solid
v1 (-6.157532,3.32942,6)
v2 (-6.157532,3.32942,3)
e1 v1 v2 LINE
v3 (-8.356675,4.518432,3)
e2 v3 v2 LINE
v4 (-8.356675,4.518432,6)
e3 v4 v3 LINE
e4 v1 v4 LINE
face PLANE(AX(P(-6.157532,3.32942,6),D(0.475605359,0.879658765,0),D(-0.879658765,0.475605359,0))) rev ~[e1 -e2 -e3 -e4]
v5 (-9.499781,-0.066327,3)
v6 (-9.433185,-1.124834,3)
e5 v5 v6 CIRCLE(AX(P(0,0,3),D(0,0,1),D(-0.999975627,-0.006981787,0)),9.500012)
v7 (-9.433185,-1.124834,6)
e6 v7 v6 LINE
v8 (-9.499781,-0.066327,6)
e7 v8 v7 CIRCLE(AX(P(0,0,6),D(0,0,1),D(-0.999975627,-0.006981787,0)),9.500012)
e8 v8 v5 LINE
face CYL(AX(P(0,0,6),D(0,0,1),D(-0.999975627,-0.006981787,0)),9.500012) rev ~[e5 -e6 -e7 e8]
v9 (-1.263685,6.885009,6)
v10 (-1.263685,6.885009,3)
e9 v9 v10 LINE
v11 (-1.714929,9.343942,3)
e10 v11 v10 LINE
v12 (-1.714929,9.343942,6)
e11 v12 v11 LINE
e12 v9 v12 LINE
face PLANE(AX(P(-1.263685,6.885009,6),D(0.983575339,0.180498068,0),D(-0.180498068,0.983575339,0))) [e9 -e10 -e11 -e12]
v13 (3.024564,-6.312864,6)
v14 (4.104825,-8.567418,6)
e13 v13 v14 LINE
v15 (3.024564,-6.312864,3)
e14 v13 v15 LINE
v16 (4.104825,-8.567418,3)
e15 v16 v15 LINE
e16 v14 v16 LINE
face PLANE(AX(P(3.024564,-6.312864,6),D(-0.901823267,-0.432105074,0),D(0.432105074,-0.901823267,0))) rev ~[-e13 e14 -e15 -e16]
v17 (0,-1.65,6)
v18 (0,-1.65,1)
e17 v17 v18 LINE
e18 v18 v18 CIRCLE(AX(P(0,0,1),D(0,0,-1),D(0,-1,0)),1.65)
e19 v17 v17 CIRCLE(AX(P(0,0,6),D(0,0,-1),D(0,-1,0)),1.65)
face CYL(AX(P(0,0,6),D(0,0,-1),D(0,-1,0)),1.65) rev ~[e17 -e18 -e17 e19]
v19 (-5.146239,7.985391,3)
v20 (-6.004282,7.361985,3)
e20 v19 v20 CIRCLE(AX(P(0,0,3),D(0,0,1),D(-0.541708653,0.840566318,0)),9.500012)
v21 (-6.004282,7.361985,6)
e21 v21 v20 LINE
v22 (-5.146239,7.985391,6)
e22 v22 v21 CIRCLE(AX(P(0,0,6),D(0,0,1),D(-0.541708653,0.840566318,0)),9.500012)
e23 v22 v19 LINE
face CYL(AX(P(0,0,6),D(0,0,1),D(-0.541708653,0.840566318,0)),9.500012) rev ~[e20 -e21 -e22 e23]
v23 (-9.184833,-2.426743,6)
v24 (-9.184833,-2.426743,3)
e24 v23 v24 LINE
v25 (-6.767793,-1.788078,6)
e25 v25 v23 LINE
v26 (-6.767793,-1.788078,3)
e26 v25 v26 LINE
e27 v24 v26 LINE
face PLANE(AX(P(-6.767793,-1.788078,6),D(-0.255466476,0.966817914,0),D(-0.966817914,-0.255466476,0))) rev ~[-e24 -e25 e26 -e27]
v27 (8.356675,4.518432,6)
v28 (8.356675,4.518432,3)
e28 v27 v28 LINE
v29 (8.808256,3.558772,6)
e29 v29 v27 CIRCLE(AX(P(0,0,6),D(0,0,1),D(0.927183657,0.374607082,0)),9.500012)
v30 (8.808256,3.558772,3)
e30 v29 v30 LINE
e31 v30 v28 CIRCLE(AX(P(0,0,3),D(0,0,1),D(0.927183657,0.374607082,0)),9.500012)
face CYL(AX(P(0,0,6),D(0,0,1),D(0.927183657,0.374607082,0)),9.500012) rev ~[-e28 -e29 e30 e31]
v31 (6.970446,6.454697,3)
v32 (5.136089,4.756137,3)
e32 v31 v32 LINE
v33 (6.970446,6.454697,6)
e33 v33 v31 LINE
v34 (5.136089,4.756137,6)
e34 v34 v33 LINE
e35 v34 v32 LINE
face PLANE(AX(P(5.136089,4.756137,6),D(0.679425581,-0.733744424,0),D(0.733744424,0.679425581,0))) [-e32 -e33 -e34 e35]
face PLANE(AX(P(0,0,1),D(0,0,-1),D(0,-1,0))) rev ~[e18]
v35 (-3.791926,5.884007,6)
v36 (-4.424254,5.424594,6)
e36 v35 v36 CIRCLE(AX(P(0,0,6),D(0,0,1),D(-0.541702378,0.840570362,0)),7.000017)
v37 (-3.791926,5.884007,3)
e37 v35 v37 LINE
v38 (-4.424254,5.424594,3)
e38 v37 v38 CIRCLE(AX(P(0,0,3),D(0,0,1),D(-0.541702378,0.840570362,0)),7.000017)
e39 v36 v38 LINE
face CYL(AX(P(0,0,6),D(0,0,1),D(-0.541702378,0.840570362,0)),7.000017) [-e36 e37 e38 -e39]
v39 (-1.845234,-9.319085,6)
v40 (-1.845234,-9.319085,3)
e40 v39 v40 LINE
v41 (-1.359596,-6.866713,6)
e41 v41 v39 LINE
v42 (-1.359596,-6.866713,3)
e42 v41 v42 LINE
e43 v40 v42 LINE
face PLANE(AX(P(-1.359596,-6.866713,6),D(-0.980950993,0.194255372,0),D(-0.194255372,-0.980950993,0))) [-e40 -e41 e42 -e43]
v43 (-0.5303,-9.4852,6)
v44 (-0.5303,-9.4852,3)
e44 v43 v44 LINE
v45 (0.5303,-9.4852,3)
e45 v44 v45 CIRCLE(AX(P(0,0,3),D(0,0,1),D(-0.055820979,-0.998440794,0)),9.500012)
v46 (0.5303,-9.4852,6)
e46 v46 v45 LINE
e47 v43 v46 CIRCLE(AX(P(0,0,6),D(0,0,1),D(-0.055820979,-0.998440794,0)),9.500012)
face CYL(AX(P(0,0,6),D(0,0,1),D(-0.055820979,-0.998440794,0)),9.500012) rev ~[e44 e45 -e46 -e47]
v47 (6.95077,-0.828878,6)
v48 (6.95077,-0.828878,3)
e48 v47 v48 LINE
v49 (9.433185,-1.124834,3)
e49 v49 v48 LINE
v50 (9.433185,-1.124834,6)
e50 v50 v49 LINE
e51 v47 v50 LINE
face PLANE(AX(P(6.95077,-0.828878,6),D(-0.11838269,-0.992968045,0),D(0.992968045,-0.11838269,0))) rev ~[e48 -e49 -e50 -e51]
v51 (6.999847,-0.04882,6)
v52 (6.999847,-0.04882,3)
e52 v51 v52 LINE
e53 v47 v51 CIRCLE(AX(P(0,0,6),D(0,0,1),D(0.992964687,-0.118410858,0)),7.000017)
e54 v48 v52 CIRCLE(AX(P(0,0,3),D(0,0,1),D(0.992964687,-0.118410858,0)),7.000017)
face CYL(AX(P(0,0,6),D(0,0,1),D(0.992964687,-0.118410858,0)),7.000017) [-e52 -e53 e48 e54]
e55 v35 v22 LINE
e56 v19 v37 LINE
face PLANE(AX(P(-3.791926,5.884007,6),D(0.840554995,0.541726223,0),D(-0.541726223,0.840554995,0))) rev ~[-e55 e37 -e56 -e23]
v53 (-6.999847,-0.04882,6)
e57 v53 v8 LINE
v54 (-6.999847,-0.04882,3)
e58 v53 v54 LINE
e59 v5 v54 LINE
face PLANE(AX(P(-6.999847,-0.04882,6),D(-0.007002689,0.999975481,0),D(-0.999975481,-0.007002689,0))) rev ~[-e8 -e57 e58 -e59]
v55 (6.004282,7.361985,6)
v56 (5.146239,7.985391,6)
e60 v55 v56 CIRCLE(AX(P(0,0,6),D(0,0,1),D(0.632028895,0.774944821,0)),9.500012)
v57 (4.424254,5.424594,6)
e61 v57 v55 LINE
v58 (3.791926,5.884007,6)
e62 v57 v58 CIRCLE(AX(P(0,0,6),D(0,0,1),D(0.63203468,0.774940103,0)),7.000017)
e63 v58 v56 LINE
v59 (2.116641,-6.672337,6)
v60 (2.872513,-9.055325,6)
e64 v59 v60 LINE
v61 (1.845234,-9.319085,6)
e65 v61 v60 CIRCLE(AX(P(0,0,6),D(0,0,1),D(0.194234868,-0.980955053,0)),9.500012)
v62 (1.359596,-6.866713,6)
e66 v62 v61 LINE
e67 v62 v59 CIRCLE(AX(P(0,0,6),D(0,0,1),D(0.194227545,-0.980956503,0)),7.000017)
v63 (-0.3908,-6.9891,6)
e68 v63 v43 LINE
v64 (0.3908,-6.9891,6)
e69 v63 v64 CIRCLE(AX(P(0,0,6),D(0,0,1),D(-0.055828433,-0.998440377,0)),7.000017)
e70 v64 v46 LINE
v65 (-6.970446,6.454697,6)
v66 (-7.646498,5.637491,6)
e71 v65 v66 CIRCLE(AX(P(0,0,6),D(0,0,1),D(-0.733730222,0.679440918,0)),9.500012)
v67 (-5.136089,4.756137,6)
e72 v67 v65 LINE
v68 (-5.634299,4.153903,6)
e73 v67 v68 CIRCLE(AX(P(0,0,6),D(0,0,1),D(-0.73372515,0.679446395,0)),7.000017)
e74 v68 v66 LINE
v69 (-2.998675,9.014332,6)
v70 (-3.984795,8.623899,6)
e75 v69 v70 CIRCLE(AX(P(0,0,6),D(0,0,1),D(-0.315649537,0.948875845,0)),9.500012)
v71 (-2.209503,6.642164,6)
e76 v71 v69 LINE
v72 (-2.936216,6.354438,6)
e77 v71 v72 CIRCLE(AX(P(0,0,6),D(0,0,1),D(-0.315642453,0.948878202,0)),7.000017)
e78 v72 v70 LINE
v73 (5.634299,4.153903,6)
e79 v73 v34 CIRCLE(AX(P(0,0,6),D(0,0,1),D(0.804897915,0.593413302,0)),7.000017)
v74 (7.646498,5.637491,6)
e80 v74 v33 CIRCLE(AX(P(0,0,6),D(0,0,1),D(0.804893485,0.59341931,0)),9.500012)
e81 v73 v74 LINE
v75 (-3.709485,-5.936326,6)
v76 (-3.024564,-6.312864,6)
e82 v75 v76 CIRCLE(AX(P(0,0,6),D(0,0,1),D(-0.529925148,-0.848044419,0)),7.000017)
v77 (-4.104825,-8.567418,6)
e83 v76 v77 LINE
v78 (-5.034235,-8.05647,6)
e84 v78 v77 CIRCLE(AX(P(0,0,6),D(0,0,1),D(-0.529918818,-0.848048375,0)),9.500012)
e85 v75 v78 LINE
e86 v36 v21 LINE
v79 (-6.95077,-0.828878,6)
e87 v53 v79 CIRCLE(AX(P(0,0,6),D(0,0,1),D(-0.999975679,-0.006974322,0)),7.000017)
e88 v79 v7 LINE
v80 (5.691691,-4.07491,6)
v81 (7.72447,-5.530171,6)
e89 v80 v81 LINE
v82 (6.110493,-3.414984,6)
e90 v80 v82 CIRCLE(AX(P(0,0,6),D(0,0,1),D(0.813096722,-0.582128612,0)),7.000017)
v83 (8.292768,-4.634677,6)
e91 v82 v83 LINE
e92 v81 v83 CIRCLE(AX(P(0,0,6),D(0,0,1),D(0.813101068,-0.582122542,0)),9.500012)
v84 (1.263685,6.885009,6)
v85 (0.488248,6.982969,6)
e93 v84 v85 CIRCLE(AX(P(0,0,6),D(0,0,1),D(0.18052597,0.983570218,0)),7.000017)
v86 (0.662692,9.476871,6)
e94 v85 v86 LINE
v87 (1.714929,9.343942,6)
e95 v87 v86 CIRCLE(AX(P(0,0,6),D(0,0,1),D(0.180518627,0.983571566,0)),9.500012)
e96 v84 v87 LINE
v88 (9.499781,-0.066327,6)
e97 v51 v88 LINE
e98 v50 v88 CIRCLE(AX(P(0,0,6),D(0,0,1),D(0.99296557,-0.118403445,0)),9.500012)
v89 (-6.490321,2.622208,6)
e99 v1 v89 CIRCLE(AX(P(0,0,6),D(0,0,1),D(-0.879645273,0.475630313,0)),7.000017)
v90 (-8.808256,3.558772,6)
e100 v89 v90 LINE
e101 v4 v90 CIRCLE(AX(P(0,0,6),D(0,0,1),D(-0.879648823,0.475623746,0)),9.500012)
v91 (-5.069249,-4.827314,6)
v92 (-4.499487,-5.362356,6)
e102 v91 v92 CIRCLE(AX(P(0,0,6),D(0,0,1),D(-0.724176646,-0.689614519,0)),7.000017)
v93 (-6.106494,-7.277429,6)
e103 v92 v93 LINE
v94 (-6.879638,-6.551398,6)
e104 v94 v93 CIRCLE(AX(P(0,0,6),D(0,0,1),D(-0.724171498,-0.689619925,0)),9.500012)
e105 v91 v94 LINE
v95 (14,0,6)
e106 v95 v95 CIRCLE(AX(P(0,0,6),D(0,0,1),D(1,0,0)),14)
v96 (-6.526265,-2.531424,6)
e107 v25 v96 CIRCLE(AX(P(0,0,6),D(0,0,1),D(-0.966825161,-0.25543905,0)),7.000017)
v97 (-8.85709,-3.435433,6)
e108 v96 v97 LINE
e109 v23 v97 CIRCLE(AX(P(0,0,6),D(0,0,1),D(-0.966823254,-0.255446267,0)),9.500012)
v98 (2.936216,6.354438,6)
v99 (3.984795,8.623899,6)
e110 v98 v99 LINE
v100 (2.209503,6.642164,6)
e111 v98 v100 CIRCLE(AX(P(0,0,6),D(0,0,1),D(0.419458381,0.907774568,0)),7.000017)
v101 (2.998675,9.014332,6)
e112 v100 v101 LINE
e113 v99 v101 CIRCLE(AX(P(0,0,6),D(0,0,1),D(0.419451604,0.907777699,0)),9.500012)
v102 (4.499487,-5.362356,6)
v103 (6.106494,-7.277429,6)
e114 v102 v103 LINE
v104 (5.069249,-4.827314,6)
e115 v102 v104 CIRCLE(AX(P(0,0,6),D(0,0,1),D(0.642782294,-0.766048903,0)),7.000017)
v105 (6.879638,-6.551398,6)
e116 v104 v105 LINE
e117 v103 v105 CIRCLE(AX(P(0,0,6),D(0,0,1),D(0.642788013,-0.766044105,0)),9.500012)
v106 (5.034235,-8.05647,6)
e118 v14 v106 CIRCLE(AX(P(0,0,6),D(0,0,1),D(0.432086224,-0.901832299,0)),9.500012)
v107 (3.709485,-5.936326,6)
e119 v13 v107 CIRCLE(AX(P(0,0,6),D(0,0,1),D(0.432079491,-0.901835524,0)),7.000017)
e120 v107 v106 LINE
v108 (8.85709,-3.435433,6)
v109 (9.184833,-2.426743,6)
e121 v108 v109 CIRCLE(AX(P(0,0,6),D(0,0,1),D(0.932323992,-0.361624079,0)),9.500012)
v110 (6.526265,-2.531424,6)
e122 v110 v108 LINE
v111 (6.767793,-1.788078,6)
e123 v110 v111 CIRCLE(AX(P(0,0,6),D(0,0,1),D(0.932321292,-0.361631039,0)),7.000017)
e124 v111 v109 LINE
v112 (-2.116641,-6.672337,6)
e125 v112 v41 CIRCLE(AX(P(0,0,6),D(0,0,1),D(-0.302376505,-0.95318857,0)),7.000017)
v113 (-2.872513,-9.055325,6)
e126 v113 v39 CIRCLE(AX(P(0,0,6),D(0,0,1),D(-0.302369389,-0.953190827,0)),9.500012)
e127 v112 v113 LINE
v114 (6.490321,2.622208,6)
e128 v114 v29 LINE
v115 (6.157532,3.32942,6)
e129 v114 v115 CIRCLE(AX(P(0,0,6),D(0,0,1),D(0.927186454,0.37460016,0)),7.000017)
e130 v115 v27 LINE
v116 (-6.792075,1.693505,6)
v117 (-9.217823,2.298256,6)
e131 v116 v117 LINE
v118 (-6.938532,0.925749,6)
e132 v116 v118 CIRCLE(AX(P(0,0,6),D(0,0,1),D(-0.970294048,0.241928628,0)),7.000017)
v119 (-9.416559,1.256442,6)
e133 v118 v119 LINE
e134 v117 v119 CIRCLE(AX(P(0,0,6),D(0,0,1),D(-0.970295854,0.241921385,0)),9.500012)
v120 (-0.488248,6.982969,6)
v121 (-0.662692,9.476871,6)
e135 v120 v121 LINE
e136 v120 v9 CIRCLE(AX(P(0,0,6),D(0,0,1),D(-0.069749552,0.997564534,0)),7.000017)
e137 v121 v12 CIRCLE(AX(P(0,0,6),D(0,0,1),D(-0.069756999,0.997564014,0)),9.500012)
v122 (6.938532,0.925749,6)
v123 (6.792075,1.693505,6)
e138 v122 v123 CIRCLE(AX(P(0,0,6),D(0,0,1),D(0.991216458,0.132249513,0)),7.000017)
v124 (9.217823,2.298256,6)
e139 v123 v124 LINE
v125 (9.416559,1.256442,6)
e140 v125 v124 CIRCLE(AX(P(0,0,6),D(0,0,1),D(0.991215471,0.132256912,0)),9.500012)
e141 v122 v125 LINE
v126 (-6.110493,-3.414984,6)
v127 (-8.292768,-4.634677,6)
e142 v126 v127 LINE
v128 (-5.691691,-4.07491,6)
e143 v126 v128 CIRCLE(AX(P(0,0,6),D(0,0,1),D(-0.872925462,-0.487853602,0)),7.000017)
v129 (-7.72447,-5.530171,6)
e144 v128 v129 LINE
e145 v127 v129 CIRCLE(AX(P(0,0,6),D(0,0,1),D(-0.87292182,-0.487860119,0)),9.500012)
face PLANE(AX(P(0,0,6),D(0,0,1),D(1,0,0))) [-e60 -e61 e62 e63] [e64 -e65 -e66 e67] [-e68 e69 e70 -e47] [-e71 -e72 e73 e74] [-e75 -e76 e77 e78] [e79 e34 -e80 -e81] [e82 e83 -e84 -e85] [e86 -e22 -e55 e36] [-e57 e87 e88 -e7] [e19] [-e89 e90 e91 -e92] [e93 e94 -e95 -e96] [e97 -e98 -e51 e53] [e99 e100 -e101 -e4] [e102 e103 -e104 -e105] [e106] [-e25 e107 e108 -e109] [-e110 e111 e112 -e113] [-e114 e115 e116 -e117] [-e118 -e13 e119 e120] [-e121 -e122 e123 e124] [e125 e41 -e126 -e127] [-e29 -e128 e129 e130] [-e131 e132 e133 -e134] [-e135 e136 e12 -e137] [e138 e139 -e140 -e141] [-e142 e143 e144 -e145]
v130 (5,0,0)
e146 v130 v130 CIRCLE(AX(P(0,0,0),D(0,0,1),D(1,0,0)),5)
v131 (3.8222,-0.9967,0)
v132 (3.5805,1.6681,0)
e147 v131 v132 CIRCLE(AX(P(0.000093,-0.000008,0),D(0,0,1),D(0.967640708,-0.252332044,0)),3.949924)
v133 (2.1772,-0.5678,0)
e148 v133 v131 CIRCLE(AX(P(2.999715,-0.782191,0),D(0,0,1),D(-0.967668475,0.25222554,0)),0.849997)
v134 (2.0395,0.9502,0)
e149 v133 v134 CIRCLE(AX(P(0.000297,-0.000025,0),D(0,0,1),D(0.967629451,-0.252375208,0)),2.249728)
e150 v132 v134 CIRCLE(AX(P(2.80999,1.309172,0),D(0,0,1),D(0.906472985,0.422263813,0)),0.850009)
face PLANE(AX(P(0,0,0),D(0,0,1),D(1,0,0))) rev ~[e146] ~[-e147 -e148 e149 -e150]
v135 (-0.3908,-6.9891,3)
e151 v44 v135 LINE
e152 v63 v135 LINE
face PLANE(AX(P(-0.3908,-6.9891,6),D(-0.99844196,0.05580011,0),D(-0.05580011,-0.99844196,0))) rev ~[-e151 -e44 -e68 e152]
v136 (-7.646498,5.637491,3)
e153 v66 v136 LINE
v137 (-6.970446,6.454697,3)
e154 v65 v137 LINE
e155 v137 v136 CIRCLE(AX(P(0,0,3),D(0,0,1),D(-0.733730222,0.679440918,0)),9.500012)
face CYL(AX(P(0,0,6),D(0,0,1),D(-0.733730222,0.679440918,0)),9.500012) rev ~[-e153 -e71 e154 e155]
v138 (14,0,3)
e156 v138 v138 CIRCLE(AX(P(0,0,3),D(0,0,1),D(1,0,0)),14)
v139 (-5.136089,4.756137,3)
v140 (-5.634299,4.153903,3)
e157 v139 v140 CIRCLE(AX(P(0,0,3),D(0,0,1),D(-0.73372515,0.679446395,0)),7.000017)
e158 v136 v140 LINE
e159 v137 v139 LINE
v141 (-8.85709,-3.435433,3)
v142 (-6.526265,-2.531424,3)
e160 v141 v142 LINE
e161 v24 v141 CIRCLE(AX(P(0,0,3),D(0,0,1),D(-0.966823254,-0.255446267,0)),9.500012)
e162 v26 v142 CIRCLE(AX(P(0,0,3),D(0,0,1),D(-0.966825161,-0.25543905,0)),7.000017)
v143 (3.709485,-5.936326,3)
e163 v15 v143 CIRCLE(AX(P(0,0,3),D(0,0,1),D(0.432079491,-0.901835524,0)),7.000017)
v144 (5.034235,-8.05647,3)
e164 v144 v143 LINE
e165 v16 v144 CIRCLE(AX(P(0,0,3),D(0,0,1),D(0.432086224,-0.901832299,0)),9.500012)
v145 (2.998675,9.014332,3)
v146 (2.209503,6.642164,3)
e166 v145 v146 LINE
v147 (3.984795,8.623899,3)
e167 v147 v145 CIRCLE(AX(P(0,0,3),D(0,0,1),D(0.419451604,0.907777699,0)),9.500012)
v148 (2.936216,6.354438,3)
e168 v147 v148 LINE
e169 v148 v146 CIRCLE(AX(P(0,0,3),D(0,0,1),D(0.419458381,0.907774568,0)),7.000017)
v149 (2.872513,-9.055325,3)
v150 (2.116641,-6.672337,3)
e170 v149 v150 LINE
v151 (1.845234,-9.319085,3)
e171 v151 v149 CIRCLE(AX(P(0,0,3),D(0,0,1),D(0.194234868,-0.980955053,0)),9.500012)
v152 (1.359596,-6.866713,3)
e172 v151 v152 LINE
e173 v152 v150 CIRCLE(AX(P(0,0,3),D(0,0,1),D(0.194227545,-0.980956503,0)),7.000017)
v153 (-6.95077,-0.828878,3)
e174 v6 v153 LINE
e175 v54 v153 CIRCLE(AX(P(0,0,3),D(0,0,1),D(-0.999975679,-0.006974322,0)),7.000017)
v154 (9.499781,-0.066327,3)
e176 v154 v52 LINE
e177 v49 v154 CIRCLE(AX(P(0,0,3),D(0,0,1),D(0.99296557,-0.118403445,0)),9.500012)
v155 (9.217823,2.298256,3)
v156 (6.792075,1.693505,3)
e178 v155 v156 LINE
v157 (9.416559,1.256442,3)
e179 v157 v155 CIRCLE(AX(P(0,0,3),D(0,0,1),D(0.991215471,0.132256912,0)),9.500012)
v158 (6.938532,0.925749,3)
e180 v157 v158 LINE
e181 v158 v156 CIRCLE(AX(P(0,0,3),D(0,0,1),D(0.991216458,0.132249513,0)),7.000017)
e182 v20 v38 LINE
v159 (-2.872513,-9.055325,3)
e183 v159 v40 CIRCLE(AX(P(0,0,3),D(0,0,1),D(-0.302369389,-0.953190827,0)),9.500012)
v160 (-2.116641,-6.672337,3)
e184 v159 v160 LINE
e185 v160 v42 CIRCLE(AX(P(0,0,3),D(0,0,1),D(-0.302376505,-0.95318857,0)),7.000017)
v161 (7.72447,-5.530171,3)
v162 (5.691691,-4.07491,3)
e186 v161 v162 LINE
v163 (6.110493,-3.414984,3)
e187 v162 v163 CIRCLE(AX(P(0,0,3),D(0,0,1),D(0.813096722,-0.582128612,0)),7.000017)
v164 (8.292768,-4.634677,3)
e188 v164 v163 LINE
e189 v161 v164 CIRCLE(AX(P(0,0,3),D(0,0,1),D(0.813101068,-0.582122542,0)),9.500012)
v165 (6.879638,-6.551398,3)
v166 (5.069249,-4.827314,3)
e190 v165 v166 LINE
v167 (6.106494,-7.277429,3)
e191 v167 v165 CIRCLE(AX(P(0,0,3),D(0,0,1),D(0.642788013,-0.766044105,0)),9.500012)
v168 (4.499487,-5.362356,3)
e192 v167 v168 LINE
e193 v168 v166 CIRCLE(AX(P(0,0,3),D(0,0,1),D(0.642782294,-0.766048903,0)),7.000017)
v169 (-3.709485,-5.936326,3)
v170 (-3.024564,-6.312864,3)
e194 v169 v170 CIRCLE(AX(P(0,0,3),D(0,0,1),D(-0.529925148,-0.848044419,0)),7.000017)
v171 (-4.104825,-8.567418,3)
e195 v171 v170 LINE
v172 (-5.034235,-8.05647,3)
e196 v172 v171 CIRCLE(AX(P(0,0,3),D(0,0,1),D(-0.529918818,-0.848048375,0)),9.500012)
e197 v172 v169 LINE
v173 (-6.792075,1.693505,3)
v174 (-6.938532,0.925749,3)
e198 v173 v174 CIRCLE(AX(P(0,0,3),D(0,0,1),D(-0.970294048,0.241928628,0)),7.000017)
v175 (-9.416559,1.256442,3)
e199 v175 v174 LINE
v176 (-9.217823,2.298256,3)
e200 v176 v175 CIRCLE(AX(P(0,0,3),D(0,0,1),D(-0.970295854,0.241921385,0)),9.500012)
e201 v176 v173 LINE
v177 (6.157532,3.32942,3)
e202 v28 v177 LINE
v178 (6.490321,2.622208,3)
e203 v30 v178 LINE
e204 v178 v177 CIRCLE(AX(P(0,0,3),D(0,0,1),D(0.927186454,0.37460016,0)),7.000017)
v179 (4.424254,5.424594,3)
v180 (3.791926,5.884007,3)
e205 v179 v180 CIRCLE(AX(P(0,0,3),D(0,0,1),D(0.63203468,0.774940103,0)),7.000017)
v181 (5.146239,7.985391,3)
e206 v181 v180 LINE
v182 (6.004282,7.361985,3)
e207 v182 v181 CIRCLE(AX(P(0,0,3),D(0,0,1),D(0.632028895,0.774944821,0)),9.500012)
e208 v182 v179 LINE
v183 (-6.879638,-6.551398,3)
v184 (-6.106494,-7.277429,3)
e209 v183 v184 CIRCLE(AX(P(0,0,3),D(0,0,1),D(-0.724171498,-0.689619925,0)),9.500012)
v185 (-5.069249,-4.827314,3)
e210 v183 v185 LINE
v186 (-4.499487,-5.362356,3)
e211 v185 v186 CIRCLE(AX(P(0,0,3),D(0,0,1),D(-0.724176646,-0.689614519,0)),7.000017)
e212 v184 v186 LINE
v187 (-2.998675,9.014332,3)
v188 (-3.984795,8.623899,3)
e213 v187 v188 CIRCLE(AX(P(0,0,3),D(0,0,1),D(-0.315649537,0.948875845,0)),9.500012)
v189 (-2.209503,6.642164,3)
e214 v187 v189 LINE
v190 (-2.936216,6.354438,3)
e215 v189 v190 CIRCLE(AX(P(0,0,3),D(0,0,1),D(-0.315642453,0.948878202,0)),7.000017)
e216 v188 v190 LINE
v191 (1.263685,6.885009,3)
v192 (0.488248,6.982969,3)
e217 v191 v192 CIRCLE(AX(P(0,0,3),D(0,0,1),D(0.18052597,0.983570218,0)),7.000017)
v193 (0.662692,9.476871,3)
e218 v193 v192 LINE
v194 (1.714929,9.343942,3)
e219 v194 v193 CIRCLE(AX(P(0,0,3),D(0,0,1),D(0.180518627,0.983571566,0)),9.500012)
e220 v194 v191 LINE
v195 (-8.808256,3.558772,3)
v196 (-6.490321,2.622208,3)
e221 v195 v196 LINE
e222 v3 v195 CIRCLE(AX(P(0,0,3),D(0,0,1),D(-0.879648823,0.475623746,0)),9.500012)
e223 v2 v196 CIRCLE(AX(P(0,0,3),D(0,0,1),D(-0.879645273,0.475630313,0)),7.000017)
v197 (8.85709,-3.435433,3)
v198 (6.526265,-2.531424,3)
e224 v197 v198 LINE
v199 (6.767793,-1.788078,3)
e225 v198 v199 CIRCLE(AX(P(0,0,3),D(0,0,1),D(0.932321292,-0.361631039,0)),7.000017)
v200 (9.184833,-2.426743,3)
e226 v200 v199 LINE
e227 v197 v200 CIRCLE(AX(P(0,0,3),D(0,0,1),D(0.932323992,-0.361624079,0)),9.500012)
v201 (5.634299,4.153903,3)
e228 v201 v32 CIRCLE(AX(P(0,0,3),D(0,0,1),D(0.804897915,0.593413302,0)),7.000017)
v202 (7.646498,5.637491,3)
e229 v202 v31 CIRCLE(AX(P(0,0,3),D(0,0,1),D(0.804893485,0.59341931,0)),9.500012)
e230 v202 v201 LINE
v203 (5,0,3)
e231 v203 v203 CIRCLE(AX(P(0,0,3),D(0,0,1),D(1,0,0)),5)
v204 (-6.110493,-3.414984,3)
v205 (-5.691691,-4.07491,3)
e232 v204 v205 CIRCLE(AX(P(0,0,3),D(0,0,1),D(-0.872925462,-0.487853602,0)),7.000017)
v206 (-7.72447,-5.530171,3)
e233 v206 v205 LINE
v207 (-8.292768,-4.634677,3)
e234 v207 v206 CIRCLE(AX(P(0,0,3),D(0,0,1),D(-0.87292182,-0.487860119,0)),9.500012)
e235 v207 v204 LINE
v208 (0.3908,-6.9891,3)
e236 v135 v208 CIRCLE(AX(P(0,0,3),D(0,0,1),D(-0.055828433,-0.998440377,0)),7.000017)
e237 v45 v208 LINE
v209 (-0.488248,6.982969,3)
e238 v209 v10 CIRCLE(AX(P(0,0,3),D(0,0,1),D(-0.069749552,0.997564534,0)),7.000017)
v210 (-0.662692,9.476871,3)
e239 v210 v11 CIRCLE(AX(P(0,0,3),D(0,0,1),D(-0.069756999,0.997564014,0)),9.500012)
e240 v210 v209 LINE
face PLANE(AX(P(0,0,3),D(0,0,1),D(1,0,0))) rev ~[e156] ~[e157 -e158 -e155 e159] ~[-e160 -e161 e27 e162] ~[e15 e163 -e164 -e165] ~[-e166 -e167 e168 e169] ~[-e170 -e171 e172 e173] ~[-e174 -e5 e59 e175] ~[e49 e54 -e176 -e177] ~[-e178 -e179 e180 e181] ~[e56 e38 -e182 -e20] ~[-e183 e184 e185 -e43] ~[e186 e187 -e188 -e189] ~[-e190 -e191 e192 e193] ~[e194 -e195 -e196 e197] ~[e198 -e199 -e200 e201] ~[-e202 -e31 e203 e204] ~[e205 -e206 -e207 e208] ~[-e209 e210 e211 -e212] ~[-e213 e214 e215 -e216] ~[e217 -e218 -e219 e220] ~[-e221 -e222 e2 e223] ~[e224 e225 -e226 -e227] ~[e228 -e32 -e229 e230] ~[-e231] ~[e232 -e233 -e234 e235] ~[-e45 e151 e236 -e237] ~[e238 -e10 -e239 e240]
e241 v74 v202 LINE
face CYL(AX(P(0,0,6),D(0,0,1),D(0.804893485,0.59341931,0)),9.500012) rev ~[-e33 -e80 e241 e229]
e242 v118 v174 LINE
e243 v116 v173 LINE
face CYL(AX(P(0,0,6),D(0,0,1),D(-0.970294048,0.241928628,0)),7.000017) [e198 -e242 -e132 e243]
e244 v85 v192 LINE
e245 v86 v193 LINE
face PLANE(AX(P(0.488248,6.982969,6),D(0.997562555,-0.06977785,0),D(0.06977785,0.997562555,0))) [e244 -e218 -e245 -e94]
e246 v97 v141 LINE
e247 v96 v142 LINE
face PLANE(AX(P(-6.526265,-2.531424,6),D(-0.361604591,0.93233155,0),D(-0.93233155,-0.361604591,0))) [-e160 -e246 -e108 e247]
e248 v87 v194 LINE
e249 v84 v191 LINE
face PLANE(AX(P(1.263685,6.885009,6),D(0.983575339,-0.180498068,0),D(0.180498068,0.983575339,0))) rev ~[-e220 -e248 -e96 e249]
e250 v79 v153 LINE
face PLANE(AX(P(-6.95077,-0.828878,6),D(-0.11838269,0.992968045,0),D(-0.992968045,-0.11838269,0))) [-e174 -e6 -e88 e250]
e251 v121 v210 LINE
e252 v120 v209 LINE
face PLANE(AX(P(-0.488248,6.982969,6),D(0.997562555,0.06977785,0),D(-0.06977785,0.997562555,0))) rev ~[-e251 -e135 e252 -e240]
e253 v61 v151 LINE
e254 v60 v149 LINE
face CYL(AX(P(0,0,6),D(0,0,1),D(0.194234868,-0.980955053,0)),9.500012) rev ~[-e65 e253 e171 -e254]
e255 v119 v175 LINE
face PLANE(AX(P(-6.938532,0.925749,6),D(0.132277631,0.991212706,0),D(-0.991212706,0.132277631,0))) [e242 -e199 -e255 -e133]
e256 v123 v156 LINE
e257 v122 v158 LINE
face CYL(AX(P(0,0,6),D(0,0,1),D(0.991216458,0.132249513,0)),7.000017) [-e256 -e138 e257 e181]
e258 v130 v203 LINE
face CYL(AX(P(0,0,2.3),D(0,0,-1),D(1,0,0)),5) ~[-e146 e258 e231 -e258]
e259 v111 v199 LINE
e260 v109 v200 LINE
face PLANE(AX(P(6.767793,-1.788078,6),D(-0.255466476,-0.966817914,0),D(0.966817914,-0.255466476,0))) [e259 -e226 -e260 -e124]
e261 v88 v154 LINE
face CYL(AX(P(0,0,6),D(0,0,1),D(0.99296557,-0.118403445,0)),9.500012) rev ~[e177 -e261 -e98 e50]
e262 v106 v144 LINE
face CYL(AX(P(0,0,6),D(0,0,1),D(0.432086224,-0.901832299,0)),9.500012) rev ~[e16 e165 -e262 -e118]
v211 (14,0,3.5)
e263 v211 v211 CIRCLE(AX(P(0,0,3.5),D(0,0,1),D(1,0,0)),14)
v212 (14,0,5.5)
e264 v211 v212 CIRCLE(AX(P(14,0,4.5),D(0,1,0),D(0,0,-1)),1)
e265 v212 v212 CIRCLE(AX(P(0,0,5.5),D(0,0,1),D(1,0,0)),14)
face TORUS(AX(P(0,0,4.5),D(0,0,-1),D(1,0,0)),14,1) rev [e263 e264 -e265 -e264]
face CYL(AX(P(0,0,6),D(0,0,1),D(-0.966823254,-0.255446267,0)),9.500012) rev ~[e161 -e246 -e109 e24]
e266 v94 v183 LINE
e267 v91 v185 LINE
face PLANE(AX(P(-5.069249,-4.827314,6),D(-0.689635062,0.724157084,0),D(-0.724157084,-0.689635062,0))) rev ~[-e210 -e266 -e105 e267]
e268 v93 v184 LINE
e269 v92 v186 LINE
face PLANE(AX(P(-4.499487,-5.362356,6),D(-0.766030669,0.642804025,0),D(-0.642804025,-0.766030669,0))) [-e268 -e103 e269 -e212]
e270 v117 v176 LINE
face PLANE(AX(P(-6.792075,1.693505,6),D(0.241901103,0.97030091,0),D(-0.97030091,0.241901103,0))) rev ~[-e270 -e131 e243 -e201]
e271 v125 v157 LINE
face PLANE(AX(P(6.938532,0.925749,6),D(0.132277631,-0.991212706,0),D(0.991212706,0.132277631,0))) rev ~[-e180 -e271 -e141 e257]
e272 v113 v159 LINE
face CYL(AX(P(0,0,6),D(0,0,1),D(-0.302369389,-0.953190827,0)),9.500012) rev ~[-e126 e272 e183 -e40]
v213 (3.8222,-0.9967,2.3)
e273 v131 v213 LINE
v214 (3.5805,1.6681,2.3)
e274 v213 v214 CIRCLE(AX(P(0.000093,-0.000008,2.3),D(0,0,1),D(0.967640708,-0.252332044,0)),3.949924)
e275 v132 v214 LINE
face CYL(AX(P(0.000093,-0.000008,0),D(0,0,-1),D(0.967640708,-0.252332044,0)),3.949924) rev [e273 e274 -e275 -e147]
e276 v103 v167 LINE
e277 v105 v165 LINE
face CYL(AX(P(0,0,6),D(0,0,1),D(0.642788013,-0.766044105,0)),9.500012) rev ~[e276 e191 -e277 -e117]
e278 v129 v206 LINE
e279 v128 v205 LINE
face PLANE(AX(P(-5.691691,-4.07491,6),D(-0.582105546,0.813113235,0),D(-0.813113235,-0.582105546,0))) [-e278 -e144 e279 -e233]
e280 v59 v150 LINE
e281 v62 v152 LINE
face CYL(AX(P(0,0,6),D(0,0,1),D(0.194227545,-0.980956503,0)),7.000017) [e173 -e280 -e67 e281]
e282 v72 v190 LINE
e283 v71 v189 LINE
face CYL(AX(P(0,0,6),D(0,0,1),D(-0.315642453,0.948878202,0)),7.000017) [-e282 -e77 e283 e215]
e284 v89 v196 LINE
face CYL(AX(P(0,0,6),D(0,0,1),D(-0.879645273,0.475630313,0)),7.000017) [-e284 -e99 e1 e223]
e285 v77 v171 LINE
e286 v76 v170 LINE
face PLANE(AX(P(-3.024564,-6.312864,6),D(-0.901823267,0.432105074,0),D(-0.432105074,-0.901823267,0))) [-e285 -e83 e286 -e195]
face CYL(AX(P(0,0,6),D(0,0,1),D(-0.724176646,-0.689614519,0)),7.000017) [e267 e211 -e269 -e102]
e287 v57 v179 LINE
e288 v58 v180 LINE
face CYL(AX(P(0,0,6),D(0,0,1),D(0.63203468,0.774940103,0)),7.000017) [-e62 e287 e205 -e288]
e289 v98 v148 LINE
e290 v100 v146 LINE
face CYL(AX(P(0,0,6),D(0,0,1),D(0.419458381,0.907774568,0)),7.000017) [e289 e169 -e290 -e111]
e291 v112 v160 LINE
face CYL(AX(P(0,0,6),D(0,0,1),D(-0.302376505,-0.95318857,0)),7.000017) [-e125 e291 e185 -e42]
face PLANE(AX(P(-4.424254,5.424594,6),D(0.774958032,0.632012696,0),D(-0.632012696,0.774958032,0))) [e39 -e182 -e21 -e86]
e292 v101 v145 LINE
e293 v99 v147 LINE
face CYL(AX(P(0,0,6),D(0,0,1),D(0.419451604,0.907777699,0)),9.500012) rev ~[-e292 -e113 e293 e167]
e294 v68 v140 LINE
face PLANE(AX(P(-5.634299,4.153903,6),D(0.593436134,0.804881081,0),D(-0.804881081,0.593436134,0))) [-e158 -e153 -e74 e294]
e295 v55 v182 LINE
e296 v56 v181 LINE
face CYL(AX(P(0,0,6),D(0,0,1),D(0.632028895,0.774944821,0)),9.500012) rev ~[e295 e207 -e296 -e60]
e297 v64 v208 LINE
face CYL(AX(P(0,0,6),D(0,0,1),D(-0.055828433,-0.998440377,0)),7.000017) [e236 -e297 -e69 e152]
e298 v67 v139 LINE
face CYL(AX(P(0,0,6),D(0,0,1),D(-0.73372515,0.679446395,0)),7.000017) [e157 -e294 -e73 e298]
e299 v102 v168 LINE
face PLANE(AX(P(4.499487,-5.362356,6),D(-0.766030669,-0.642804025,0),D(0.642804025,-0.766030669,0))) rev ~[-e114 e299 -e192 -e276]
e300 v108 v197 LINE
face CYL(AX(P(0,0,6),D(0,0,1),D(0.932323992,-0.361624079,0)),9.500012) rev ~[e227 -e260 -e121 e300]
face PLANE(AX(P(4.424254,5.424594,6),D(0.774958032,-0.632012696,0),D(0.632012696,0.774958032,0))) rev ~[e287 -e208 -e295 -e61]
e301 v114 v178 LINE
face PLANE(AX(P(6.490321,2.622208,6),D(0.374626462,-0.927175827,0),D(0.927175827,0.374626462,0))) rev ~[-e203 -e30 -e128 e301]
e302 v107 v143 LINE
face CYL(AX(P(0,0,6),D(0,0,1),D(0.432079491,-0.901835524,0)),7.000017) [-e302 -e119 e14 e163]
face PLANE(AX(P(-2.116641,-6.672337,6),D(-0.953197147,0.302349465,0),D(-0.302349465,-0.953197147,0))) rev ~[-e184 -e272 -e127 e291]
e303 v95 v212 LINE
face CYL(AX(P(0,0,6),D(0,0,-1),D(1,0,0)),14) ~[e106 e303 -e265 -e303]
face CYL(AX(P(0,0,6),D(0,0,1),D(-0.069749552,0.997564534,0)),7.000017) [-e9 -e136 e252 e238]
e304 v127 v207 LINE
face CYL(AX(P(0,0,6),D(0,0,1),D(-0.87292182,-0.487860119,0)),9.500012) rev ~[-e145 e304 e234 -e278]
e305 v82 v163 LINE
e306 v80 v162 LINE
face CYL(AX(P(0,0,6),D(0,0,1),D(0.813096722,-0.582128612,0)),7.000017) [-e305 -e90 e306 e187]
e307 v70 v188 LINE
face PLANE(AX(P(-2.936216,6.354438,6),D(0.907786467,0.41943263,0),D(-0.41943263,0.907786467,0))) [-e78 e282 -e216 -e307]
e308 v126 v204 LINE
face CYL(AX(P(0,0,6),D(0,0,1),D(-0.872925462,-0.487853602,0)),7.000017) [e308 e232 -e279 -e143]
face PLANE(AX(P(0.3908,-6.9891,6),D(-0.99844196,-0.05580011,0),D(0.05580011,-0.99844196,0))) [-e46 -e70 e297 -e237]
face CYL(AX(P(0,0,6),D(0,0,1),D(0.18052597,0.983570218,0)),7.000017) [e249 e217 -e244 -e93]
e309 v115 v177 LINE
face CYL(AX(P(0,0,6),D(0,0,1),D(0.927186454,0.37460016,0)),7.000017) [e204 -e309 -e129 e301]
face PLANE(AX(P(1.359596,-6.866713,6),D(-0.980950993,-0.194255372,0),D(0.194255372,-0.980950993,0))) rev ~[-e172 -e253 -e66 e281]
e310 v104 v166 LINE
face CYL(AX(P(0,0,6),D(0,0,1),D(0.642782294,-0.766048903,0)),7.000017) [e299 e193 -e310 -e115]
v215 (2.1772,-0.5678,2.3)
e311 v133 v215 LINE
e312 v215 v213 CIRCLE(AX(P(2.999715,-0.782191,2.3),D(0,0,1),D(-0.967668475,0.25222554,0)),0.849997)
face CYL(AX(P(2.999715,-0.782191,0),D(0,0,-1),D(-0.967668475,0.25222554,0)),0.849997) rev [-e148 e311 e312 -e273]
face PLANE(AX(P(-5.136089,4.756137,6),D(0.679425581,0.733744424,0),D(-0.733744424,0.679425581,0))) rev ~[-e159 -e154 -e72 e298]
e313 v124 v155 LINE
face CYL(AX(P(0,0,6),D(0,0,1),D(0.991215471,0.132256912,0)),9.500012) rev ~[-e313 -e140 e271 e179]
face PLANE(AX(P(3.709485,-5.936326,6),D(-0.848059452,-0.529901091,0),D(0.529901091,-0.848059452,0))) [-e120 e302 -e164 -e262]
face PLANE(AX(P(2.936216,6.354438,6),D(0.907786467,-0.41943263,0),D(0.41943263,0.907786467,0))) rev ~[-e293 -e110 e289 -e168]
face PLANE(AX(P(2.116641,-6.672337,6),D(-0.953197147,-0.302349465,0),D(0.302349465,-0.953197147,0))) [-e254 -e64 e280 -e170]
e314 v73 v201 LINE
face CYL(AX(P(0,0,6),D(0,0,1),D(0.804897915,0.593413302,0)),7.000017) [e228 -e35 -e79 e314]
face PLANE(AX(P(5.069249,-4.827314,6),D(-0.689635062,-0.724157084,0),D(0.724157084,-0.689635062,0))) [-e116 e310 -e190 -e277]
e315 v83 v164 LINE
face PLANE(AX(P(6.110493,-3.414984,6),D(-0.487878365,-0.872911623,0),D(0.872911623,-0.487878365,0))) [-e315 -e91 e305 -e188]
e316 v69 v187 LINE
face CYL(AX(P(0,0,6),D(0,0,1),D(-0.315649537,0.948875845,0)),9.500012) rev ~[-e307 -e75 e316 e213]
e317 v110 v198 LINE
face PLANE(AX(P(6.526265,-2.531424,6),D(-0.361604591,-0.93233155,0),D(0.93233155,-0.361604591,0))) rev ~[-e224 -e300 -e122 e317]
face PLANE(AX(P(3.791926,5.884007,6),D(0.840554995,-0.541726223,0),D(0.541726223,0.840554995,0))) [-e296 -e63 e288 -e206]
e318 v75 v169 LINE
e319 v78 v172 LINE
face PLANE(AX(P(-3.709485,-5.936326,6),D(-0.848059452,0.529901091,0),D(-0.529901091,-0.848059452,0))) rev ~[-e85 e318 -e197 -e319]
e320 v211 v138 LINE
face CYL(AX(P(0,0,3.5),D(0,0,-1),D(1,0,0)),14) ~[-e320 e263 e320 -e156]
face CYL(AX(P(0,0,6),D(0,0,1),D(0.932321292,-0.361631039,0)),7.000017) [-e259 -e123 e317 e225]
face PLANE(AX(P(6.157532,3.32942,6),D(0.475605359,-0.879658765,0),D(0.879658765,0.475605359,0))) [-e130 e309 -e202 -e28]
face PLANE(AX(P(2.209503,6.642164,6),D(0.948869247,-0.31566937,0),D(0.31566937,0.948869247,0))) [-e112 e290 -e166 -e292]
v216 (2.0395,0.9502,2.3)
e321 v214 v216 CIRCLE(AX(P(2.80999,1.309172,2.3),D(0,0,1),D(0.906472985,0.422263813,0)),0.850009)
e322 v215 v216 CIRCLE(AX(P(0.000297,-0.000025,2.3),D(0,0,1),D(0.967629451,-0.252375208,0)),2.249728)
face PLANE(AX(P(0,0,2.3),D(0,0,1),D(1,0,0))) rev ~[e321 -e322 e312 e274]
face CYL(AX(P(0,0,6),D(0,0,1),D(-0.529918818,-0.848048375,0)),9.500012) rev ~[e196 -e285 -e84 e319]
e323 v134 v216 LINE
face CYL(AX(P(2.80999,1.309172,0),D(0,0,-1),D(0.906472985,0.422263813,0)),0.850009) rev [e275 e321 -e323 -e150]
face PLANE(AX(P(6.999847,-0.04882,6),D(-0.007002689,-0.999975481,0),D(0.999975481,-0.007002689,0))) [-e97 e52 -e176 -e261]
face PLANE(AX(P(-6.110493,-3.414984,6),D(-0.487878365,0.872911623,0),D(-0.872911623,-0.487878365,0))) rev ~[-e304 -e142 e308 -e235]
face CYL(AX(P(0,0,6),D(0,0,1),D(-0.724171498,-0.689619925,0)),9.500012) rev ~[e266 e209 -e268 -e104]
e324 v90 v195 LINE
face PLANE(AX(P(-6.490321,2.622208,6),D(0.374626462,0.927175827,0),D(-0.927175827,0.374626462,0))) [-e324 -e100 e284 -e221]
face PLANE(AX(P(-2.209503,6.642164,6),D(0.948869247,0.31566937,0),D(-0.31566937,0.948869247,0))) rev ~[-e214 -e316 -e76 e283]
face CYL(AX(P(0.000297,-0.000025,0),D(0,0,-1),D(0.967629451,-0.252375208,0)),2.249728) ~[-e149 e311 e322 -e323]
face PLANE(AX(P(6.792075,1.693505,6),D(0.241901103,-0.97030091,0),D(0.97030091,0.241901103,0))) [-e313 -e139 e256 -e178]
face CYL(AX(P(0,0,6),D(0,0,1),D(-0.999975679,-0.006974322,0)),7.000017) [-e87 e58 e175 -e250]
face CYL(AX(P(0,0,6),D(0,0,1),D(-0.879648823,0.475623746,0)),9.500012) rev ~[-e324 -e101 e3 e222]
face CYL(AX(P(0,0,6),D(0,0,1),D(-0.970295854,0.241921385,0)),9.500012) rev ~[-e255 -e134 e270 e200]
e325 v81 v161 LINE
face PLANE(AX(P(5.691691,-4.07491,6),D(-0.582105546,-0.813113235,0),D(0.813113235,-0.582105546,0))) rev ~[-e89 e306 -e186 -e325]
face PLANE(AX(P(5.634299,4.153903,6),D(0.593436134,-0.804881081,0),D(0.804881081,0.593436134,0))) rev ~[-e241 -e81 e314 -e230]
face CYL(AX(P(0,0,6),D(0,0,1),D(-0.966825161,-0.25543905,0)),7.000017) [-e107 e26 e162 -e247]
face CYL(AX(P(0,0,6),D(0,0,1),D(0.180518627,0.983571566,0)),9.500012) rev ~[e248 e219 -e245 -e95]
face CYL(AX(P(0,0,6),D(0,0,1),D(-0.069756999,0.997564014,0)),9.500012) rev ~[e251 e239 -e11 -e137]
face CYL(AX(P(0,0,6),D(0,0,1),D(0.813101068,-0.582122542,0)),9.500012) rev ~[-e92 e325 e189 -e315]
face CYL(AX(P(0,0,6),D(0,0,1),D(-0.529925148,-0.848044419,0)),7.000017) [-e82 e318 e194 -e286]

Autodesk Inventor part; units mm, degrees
ref_plane "YZ Plane" through (0, 0, 0) normal (1, 0, 0) x (0, 1, 0)
ref_plane "XZ Plane" through (0, 0, 0) normal (0, 1, 0) x (-1, 0, 0)
ref_plane "XY Plane" through (0, 0, 0) normal (0, 0, 1) x (1, 0, 0)
sketch "Sketch1" plane through (0, 0, 0) normal (0, 0, 1) x (1, 0, 0)
  circle A0 centre (0, 0) radius 0.5 projected
  circle A1 centre (0, 0) radius 5
  arc A2 (2.3707, -0.6182) -> (3.6286, -0.9463) centre (2.9997, -0.7822) ccw
  arc A3 (2.3707, -0.6182) -> (2.2208, 1.0347) centre (0, 0) ccw
  arc A4 (3.3992, 1.5837) -> (2.2208, 1.0347) centre (2.81, 1.3092) ccw
  arc A5 (3.6286, -0.9463) -> (3.3992, 1.5837) centre (0, 0) ccw
  arc A6 (2.1772, -0.5678) -> (2.0395, 0.9502) centre (0, 0) ccw
  arc A7 (2.1772, -0.5678) -> (3.8222, -0.9967) centre (2.9997, -0.7822) ccw
  arc A8 (3.8222, -0.9967) -> (3.5805, 1.6681) centre (0, 0) ccw
  arc A9 (3.5805, 1.6681) -> (2.0395, 0.9502) centre (2.81, 1.3092) ccw
  point P0 (0, 0)
  dimension "d1" = 10
  dimension "d48" = 0.2
extrude "Extrusion1" add sketch "Sketch1" along normal blind 2.3 contours A0 | A1
sketch "Sketch2" plane through (0, 0, 2.3) normal (0, 0, 1) x (1, 0, 0)
  circle A0 centre (0, 0) radius 5 projected
  point P0 (0, 0)
extrude "Extrusion2" add sketch "Sketch2" along normal blind 3.7
sketch "Sketch3" plane through (0, 0, 0) normal (0, 1, 0) x (-1, 0, 0)
  line L0 (5, 6) -> (-5, 6) projected
  line L1 (-5, 0) -> (5, 0) projected
  line L2 (5, 6) -> (-5, 6) projected
  line L3 (-14, 3) -> (-5, 3)
  line L4 (-5, 0) -> (-5, 6) projected
  line L5 (-5, 6) -> (-5, 5.9384)
  line L6 (-5, 0) -> (5, 0) projected
  line L7 (0, -1.6) -> (0, 9.6) projected
  arc A0 (-14, 3.5) -> (-14, 5.5) centre (-14, 4.5) ccw
  line L8 (-14, 6) -> (-14, 5.5)
  line L9 (-14, 3.5) -> (-14, 3)
  line L10 (-14, 6) -> (-13, 6)
  line L11 (-13, 6) -> (-13, 6)
  line L12 (-13, 6) -> (-5, 6)
  point P0 (0, 0)
  point P1 (-13, 3)
  point P2 (-5, 3.5)
  dimension "d9" = 3
  dimension "d10" = 3
  dimension "d23" = 2
  dimension "d25" = 14
  dimension "d38" = 3
  dimension "d39" = 1
revolve "Revolution1" add sketch "Sketch3" angle 360 about axis through (0, 0, -10) along (0, 0, 1) contours L4 L3 L9 A0 L8 L10 L12
hole "Hole1" at (0, 0, 6) direction (0, 0, -1) diameter 3.3 depth 5
sketch "Sketch5" plane through (0, 0, 6) normal (0, 0, 1) x (1, 0, 0)
  arc A0 (-0.3908, -6.9891) -> (0.3908, -6.9891) centre (0, 0) ccw
  arc A1 (-0.5303, -9.4852) -> (0.5303, -9.4852) centre (0, 0) ccw
  line L0 (0.3908, -6.9891) -> (0.5303, -9.4852)
  line L1 (-0.3908, -6.9891) -> (-0.5303, -9.4852)
  line L2 (0, 0) -> (0, -10.4532) construction
  circle A2 centre (0, 0) radius 14 projected
  dimension "d58" = 3.2
  dimension "d59" = 6.4
  dimension "d60" = 2.5
  dimension "d61" = 7
extrude "Extrusion4" cut sketch "Sketch5" against normal up to next contours A0 L0 A1 L1
pattern_circular "Circular Pattern2" count 25 over 360 about axis through (0, 0, 3.5) along (0, 0, 1) of "Extrusion4"
equation "\"d58\" = 0.5 * d59"
properties part number "wheel"
